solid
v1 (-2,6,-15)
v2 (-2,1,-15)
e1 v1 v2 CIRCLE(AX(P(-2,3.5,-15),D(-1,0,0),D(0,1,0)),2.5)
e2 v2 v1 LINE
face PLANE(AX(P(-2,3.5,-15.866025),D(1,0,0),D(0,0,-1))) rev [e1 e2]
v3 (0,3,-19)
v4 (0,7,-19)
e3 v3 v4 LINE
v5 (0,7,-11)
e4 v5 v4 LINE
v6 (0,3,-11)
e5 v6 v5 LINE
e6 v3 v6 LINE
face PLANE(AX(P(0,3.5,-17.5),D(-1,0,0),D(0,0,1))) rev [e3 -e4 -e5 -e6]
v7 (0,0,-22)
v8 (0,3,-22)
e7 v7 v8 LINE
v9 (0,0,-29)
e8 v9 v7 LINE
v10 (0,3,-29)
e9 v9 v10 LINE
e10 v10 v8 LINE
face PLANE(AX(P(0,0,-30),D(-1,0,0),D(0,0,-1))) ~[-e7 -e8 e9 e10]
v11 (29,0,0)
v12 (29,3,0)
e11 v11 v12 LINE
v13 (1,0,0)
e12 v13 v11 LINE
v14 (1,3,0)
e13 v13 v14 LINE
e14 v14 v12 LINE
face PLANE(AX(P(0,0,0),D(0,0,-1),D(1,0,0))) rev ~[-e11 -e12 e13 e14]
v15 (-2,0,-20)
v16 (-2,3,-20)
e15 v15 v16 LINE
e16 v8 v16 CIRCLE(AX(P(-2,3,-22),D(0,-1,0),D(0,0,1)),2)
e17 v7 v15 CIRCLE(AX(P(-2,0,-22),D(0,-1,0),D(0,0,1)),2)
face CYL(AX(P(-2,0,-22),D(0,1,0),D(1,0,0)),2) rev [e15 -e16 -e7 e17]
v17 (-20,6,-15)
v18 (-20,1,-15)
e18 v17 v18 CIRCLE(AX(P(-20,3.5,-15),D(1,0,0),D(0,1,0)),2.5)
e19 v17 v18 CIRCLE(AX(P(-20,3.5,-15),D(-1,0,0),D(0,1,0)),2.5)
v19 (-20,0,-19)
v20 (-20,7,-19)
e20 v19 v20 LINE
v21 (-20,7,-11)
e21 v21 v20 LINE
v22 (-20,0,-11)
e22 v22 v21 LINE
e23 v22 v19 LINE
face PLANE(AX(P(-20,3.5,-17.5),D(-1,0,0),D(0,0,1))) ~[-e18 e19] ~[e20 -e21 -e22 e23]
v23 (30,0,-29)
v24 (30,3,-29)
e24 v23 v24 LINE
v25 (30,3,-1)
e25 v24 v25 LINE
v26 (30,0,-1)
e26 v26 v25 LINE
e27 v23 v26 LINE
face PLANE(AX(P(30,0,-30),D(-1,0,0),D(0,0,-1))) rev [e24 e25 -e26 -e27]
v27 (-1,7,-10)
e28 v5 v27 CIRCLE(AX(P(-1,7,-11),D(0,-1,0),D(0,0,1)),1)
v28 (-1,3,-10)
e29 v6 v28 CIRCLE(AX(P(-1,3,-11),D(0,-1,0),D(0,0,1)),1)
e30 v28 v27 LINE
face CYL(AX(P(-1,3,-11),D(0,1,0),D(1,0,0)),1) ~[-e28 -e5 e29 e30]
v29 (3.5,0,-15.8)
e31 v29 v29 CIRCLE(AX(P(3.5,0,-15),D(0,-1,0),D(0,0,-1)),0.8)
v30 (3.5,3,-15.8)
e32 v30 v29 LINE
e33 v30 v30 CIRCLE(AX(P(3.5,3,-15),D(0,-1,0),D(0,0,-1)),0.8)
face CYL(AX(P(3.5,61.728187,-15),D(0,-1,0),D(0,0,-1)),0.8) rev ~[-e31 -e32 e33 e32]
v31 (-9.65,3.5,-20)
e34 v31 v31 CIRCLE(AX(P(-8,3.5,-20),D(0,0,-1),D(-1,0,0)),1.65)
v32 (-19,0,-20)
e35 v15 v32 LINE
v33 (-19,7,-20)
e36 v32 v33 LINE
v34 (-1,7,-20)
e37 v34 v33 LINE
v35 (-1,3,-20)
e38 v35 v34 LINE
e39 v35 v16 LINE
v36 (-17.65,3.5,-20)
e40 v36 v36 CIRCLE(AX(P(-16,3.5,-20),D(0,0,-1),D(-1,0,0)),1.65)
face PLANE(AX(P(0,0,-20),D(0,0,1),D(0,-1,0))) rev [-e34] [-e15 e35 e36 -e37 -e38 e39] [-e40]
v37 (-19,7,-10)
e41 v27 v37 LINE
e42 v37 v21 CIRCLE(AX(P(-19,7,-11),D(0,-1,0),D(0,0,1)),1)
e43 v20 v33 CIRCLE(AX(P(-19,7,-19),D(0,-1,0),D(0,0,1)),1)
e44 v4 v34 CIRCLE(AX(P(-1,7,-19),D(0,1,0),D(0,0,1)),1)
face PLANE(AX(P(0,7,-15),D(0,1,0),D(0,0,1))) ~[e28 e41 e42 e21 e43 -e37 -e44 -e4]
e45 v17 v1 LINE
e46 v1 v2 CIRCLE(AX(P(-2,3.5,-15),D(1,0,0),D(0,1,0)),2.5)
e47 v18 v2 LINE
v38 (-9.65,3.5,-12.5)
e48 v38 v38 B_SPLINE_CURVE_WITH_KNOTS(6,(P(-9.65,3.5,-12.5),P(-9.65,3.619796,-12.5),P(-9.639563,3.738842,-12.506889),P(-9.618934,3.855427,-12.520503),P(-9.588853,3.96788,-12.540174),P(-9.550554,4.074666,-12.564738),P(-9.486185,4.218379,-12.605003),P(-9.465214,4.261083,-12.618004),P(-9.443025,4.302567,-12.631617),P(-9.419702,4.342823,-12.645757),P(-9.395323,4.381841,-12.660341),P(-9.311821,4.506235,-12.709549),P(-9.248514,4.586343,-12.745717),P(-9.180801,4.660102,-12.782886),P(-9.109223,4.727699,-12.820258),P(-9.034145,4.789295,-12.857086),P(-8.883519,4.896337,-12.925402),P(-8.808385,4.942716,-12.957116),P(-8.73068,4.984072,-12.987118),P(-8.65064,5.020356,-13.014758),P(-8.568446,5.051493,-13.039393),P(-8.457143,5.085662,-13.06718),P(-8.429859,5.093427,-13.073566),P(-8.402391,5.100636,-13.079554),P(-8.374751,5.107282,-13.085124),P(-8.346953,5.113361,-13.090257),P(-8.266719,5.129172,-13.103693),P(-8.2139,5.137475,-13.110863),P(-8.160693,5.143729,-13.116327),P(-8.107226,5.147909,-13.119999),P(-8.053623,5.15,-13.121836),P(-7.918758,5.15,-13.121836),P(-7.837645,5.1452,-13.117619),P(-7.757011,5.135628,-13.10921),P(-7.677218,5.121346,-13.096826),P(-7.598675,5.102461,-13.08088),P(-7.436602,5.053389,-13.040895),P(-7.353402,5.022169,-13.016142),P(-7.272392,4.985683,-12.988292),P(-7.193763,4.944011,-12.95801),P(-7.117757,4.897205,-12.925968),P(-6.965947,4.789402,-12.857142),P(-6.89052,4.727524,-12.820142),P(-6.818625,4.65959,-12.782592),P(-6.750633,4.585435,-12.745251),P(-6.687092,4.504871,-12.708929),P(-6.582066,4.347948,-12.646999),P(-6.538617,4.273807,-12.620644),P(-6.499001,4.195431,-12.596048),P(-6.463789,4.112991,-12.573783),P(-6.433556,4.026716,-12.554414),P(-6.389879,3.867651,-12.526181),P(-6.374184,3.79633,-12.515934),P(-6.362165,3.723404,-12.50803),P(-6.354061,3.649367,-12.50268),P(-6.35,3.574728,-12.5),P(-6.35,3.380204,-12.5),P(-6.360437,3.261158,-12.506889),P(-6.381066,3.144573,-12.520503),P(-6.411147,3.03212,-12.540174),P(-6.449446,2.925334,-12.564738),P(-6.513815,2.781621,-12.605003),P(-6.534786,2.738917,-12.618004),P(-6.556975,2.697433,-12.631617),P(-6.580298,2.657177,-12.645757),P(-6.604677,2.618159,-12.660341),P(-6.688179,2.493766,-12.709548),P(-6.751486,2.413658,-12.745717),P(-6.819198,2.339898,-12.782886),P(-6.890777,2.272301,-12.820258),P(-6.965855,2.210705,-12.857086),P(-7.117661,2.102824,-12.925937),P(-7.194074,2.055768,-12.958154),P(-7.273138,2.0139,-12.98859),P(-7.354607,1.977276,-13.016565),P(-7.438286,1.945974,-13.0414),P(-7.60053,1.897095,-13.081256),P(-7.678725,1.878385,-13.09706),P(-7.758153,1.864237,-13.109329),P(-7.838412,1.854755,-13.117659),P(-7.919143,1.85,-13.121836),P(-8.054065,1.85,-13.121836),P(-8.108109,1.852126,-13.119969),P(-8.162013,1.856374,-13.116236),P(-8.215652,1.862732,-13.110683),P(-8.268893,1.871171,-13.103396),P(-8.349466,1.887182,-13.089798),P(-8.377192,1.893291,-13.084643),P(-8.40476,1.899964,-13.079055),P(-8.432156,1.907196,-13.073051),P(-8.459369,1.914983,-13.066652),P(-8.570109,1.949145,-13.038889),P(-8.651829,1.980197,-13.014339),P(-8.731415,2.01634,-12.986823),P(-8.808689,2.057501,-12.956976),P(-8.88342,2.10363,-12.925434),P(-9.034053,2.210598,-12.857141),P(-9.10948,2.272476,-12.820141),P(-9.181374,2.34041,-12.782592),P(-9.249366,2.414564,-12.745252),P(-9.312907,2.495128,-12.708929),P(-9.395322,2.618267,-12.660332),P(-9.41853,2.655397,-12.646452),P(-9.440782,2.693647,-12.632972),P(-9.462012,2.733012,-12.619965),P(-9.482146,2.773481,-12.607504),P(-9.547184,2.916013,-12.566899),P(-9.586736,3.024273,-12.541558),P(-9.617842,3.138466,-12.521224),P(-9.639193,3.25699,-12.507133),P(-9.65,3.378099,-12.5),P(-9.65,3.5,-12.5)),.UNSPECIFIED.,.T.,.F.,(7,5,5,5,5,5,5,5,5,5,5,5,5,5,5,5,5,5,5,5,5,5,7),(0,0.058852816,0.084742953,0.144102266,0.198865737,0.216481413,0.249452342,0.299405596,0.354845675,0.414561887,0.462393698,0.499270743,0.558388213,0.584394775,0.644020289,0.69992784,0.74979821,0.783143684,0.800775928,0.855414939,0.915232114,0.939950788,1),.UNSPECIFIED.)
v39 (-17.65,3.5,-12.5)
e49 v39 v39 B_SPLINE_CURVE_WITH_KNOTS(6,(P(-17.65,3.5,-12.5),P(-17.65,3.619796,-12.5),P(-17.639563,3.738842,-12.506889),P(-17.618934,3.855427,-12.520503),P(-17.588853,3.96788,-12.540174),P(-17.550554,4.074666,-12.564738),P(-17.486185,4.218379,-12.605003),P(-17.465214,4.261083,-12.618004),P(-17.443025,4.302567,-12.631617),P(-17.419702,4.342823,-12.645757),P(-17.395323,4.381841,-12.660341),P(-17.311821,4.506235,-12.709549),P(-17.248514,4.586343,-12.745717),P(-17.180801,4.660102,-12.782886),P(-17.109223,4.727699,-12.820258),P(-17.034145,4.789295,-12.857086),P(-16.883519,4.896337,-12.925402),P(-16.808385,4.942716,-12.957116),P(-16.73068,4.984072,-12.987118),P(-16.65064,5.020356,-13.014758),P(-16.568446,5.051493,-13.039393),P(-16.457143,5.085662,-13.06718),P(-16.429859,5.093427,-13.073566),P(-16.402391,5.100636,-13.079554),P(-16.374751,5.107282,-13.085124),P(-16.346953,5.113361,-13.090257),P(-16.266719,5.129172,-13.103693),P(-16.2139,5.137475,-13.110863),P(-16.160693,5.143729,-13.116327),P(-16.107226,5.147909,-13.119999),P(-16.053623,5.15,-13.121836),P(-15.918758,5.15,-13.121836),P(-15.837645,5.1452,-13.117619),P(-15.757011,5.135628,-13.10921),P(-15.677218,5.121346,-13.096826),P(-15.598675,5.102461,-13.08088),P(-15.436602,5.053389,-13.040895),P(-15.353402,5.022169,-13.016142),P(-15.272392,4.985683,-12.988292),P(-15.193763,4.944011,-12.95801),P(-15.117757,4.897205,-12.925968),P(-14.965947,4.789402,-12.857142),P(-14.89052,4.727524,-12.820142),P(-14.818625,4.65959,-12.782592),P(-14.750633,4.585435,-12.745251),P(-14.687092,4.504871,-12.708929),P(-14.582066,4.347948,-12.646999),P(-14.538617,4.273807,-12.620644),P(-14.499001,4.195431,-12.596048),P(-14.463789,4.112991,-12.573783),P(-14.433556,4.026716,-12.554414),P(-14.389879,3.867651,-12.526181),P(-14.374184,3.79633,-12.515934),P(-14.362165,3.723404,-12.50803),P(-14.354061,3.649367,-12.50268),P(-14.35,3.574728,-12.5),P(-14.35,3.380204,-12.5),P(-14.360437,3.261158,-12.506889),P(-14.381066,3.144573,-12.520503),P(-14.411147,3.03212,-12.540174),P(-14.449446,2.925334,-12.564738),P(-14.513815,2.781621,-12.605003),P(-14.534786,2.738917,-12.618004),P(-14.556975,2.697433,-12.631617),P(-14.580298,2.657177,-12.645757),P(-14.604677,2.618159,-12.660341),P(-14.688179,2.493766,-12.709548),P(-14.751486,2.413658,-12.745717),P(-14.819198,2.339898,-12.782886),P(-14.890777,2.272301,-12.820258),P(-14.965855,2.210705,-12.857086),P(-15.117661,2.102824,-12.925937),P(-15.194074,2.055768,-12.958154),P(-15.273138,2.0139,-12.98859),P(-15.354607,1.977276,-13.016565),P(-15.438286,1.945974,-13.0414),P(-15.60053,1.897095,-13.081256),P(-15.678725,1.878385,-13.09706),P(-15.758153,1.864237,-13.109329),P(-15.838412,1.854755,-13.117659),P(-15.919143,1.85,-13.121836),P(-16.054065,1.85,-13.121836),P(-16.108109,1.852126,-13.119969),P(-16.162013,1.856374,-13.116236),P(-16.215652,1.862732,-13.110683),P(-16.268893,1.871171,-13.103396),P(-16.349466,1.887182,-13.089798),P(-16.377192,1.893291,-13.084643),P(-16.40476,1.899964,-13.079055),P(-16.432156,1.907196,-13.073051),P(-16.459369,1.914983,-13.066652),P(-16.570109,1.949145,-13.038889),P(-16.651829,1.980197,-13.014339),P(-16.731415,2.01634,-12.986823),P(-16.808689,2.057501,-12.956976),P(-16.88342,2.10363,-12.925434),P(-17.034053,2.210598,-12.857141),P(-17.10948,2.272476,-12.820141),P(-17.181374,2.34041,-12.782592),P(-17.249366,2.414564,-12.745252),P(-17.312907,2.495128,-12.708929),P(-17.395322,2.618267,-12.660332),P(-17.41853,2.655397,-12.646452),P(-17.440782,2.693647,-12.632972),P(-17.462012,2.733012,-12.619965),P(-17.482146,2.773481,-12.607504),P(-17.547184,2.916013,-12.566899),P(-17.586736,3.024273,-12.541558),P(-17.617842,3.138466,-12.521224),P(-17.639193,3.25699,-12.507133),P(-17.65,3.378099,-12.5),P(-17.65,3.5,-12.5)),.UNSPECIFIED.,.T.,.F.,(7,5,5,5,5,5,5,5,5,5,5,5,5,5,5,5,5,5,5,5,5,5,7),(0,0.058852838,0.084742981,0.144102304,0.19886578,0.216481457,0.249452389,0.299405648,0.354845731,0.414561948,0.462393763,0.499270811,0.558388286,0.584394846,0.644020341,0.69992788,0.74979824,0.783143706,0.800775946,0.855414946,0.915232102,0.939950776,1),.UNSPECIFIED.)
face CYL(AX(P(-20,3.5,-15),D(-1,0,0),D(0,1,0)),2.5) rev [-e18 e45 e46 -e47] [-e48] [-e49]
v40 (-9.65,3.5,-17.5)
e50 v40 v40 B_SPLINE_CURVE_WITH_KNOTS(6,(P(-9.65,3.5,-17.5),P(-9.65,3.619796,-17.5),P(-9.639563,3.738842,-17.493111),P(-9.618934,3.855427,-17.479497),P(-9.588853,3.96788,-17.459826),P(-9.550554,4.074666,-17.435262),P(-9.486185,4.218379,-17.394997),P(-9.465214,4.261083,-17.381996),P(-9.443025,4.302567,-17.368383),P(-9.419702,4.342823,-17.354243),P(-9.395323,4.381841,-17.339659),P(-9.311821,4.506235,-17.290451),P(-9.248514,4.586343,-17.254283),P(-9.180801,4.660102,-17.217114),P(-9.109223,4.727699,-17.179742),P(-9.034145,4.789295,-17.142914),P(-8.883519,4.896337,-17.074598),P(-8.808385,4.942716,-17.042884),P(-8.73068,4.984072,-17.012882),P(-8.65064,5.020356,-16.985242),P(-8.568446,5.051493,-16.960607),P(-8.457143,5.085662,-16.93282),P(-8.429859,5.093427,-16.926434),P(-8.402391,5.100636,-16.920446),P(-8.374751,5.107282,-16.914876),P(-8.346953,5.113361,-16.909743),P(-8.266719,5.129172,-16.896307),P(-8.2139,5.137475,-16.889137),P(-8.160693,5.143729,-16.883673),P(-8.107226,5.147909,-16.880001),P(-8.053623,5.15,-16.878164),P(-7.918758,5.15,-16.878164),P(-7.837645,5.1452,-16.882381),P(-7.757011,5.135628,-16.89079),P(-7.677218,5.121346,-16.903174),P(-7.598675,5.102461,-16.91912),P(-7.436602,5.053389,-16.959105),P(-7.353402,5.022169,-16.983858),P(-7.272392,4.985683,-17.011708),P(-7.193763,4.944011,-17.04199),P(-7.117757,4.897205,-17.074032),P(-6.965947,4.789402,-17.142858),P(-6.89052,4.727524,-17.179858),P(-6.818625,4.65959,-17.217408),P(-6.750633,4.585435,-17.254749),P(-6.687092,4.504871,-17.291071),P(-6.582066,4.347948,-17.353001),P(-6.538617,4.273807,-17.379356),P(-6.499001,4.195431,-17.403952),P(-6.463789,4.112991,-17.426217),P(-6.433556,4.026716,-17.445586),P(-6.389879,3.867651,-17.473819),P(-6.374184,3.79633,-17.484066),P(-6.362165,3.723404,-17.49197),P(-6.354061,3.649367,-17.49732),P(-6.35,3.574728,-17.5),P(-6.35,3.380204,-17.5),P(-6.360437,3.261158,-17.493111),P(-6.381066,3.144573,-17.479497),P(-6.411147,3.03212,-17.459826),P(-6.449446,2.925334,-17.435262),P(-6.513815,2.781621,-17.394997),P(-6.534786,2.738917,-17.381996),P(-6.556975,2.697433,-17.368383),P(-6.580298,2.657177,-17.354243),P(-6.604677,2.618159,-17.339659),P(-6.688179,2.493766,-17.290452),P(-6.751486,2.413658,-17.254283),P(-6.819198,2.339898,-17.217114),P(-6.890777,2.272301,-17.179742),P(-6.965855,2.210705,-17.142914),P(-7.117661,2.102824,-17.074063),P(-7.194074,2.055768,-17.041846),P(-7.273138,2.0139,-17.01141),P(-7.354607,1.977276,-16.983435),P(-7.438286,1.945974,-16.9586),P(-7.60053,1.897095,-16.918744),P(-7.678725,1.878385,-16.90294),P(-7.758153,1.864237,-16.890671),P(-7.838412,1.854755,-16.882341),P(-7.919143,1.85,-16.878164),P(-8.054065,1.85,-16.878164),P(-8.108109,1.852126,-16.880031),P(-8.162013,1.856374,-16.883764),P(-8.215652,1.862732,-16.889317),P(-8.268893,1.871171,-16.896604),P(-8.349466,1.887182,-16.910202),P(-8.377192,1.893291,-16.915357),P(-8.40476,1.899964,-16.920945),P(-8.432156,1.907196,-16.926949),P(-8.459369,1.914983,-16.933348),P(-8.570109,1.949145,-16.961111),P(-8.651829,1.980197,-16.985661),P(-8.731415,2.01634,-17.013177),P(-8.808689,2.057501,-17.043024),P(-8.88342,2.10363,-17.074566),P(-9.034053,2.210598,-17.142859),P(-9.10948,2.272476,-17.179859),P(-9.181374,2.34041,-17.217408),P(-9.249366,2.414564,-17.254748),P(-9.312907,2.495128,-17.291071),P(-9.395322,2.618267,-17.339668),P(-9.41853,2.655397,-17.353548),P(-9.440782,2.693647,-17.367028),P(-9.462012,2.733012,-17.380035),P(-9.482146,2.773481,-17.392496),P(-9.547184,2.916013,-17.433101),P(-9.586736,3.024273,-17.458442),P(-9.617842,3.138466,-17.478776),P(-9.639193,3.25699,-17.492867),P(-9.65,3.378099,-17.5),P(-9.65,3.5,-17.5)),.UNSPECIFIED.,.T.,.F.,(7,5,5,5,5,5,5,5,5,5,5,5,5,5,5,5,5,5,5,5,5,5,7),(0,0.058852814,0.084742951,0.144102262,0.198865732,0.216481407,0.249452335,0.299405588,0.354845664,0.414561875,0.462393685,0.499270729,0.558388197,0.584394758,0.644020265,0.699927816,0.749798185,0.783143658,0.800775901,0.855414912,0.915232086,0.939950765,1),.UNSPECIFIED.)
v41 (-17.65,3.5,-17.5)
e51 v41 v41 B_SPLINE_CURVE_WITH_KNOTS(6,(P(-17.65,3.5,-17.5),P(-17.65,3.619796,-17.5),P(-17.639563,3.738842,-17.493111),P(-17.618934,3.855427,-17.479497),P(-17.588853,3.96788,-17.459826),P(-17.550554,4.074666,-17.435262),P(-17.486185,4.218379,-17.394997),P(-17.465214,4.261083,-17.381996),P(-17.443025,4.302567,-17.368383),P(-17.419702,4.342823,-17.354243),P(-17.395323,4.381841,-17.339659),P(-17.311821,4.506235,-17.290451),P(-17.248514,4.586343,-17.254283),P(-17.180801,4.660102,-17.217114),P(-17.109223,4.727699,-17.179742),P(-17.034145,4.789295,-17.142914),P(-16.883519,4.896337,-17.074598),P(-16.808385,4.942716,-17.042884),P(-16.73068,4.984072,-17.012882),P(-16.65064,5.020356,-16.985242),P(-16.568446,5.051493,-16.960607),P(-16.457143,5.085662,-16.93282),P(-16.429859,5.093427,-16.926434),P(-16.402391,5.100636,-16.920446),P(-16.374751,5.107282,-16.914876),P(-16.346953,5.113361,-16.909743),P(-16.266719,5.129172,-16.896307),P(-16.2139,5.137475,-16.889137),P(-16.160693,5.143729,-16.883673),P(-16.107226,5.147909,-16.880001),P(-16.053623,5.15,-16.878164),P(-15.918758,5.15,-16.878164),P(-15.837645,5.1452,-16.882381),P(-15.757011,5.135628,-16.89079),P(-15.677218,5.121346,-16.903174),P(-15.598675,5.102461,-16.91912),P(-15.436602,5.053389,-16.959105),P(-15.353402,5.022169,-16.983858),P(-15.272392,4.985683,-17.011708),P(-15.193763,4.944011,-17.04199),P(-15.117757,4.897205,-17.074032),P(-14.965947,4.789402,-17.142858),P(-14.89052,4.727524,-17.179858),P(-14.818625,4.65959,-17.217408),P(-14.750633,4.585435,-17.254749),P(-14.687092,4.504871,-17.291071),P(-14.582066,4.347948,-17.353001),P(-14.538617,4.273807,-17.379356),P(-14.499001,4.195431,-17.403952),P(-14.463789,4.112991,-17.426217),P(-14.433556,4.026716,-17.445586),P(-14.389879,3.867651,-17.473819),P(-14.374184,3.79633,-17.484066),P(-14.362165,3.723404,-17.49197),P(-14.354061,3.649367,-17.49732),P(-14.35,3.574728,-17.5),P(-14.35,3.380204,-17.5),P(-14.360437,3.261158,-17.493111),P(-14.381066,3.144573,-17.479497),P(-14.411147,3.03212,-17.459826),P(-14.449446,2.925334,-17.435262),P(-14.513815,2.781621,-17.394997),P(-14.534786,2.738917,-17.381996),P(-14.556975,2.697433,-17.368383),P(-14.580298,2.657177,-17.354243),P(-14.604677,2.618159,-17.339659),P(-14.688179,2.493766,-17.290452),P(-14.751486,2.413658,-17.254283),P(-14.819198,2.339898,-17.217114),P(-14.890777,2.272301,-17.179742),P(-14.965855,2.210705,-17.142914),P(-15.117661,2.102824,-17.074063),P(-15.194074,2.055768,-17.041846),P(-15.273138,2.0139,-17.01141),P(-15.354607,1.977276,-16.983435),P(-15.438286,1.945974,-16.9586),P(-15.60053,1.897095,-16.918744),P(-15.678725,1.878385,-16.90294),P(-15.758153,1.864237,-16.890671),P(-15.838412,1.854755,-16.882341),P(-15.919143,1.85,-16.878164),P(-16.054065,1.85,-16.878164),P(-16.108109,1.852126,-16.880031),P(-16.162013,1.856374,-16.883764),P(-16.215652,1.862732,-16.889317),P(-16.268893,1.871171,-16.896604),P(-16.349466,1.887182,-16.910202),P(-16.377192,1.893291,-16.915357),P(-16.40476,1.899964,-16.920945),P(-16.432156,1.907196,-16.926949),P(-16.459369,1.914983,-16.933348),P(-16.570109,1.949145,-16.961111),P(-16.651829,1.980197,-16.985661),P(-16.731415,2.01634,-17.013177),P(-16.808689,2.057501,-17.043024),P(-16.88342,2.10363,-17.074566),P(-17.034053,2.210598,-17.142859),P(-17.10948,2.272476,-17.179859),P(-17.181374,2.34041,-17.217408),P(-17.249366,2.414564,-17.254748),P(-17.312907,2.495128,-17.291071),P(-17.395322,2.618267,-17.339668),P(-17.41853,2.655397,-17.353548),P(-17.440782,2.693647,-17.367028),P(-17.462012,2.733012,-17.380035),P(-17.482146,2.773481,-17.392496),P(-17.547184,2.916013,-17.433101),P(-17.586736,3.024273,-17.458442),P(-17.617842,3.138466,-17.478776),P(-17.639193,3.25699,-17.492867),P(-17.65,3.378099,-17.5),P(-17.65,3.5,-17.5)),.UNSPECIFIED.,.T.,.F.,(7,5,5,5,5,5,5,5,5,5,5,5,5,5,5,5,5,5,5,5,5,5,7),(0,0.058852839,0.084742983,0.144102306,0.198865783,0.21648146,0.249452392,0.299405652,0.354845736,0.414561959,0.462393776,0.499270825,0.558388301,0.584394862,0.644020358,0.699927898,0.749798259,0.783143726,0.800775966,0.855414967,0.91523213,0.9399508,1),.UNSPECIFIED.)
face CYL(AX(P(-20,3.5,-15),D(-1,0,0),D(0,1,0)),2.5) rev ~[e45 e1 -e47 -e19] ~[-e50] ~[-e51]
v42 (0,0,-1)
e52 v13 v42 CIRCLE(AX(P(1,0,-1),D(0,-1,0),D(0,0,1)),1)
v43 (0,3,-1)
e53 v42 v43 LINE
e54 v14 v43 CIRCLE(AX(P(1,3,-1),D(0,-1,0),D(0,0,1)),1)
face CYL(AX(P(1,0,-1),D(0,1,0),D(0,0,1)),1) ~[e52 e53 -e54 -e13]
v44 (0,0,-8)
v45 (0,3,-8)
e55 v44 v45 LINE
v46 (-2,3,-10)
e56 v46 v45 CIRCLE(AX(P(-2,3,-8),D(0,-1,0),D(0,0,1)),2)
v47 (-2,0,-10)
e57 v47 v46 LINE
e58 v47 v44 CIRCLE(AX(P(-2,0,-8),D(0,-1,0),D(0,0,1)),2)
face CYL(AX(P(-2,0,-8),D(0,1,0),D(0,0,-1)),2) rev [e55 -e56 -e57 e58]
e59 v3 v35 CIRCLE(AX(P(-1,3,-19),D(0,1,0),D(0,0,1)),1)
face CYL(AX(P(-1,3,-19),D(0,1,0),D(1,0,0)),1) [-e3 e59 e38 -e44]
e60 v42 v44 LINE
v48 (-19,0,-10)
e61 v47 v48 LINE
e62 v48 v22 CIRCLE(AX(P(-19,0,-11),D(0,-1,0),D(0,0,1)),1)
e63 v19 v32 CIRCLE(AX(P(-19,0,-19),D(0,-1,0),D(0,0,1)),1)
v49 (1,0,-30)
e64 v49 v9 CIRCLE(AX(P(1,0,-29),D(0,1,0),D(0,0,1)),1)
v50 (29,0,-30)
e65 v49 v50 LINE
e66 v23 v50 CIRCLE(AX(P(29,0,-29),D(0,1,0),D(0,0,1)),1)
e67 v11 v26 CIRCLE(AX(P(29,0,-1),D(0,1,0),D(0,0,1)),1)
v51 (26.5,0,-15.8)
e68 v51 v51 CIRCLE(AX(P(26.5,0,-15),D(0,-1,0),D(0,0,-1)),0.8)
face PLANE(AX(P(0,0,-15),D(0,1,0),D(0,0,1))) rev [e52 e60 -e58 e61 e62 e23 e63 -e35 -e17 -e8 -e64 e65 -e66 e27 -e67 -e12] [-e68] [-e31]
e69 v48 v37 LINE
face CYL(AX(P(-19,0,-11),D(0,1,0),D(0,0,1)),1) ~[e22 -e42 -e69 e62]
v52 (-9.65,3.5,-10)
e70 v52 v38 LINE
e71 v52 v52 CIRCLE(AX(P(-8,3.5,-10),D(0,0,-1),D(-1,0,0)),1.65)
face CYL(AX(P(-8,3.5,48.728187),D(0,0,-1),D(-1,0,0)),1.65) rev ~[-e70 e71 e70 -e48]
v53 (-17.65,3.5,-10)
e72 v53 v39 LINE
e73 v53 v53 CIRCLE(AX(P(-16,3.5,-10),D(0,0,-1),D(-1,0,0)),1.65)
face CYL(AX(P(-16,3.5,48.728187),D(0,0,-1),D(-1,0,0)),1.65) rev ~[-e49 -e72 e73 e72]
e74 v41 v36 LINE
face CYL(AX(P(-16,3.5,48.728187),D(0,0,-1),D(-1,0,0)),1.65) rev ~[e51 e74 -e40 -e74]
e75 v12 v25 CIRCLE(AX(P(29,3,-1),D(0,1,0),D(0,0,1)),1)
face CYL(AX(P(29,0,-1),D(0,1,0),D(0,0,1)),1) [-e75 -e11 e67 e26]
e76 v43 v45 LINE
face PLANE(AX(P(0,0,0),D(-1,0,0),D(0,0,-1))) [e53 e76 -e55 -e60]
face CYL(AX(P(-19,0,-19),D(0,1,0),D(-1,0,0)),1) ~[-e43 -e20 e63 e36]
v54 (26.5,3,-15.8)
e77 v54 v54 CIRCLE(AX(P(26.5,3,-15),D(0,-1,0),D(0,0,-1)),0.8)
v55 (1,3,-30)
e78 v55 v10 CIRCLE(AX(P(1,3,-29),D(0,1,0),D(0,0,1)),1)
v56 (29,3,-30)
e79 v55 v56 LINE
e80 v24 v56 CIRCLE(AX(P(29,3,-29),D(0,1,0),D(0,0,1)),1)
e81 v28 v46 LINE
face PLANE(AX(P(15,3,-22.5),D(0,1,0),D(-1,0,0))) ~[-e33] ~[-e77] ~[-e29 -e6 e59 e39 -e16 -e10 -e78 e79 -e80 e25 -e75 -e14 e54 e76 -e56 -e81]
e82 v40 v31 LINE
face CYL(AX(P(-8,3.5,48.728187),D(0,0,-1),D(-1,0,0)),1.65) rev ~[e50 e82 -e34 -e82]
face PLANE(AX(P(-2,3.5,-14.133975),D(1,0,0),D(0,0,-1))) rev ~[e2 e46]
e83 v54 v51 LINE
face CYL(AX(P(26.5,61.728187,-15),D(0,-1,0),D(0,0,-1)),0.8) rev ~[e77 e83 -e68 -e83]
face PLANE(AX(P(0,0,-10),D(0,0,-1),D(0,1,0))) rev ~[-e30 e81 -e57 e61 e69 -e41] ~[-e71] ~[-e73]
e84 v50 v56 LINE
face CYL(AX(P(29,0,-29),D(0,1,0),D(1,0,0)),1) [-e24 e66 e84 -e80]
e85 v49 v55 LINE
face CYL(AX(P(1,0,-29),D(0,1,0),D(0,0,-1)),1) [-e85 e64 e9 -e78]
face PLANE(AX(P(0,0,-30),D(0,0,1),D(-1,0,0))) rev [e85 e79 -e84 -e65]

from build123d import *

# Parameters (mm, degrees)
SKETCH1_W             = 30
SKETCH1_H             = 15
BOSS_EXTRUDE1_DEPTH   = 3
SKETCH2_W             = 5
SKETCH2_H             = 7
BOSS_EXTRUDE2_DEPTH   = 20
CUT_EXTRUDE1_DEPTH    = 18
FILLET2_R             = 2
FILLET3_R             = 1
M2X0_4_TAPPED_HOLE1_D = 1.6
M4X0_7_TAPPED_HOLE1_D = 3.3


with BuildPart() as part:
    # Sketch1 → Boss-Extrude1 (new body)
    with BuildSketch(Plane(origin=(0, 0, 0), x_dir=(1, 0, 0), z_dir=(0, 1, 0))):
        with Locations((15, 7.5)):
            Rectangle(SKETCH1_W, SKETCH1_H)
    extrude(amount=BOSS_EXTRUDE1_DEPTH)

    # Sketch2 → Boss-Extrude2 (add)
    with BuildSketch(Plane.ZY):
        with Locations((-12.5, 3.5)):
            Rectangle(SKETCH2_W, SKETCH2_H)
    extrude(amount=BOSS_EXTRUDE2_DEPTH)

    # Sketch3 → Cut-Extrude1 (cut)
    with BuildSketch(Plane.ZY.offset(20)):
        with BuildLine():
            Line((-15, 1), (-15, 6))
            ThreePointArc((-15, 6), (-12.5, 3.5), (-15, 1))
        make_face()
    extrude(amount=-CUT_EXTRUDE1_DEPTH, mode=Mode.SUBTRACT)

    # Mirror1: part across plane


with BuildPart() as part_1:
    add(part.part)
    add(part.part.mirror(Plane(origin=(0, 3, -15), x_dir=(1, 0, 0), z_dir=(0, 0, 1))))

    # Fillet2
    fillet2_edges = [part_1.edges().sort_by_distance(p)[0] for p in [
        (0, 1.5, -10),
        (0, 1.5, -20),
    ]]
    fillet(fillet2_edges, radius=FILLET2_R)

    # Fillet3
    fillet3_edges = [part_1.edges().sort_by_distance(p)[0] for p in [
        (0, 5, -10),
        (-20, 3.5, -10),
        (0, 1.5, -30),
        (30, 1.5, -30),
        (-20, 3.5, -20),
        (0, 5, -20),
        (30, 1.5, 0),
        (0, 1.5, 0),
    ]]
    fillet(fillet3_edges, radius=FILLET3_R)

    # M2x0.4 Tapped Hole1 (through all)
    with Locations(Plane(origin=(3.5, 3, -15), x_dir=(0, 0, 1), z_dir=(0, 1, 0))):
        with Locations((0, 0), (0, 23)):
            Hole(M2X0_4_TAPPED_HOLE1_D / 2)

    # M4x0.7 Tapped Hole1 (through all)
    with Locations(Plane(origin=(-16, 3.5, -10), x_dir=(1, 0, 0), z_dir=(0, 0, 1))):
        with Locations((0, 0), (8, 0)):
            Hole(M4X0_7_TAPPED_HOLE1_D / 2)


solid = part_1.part
